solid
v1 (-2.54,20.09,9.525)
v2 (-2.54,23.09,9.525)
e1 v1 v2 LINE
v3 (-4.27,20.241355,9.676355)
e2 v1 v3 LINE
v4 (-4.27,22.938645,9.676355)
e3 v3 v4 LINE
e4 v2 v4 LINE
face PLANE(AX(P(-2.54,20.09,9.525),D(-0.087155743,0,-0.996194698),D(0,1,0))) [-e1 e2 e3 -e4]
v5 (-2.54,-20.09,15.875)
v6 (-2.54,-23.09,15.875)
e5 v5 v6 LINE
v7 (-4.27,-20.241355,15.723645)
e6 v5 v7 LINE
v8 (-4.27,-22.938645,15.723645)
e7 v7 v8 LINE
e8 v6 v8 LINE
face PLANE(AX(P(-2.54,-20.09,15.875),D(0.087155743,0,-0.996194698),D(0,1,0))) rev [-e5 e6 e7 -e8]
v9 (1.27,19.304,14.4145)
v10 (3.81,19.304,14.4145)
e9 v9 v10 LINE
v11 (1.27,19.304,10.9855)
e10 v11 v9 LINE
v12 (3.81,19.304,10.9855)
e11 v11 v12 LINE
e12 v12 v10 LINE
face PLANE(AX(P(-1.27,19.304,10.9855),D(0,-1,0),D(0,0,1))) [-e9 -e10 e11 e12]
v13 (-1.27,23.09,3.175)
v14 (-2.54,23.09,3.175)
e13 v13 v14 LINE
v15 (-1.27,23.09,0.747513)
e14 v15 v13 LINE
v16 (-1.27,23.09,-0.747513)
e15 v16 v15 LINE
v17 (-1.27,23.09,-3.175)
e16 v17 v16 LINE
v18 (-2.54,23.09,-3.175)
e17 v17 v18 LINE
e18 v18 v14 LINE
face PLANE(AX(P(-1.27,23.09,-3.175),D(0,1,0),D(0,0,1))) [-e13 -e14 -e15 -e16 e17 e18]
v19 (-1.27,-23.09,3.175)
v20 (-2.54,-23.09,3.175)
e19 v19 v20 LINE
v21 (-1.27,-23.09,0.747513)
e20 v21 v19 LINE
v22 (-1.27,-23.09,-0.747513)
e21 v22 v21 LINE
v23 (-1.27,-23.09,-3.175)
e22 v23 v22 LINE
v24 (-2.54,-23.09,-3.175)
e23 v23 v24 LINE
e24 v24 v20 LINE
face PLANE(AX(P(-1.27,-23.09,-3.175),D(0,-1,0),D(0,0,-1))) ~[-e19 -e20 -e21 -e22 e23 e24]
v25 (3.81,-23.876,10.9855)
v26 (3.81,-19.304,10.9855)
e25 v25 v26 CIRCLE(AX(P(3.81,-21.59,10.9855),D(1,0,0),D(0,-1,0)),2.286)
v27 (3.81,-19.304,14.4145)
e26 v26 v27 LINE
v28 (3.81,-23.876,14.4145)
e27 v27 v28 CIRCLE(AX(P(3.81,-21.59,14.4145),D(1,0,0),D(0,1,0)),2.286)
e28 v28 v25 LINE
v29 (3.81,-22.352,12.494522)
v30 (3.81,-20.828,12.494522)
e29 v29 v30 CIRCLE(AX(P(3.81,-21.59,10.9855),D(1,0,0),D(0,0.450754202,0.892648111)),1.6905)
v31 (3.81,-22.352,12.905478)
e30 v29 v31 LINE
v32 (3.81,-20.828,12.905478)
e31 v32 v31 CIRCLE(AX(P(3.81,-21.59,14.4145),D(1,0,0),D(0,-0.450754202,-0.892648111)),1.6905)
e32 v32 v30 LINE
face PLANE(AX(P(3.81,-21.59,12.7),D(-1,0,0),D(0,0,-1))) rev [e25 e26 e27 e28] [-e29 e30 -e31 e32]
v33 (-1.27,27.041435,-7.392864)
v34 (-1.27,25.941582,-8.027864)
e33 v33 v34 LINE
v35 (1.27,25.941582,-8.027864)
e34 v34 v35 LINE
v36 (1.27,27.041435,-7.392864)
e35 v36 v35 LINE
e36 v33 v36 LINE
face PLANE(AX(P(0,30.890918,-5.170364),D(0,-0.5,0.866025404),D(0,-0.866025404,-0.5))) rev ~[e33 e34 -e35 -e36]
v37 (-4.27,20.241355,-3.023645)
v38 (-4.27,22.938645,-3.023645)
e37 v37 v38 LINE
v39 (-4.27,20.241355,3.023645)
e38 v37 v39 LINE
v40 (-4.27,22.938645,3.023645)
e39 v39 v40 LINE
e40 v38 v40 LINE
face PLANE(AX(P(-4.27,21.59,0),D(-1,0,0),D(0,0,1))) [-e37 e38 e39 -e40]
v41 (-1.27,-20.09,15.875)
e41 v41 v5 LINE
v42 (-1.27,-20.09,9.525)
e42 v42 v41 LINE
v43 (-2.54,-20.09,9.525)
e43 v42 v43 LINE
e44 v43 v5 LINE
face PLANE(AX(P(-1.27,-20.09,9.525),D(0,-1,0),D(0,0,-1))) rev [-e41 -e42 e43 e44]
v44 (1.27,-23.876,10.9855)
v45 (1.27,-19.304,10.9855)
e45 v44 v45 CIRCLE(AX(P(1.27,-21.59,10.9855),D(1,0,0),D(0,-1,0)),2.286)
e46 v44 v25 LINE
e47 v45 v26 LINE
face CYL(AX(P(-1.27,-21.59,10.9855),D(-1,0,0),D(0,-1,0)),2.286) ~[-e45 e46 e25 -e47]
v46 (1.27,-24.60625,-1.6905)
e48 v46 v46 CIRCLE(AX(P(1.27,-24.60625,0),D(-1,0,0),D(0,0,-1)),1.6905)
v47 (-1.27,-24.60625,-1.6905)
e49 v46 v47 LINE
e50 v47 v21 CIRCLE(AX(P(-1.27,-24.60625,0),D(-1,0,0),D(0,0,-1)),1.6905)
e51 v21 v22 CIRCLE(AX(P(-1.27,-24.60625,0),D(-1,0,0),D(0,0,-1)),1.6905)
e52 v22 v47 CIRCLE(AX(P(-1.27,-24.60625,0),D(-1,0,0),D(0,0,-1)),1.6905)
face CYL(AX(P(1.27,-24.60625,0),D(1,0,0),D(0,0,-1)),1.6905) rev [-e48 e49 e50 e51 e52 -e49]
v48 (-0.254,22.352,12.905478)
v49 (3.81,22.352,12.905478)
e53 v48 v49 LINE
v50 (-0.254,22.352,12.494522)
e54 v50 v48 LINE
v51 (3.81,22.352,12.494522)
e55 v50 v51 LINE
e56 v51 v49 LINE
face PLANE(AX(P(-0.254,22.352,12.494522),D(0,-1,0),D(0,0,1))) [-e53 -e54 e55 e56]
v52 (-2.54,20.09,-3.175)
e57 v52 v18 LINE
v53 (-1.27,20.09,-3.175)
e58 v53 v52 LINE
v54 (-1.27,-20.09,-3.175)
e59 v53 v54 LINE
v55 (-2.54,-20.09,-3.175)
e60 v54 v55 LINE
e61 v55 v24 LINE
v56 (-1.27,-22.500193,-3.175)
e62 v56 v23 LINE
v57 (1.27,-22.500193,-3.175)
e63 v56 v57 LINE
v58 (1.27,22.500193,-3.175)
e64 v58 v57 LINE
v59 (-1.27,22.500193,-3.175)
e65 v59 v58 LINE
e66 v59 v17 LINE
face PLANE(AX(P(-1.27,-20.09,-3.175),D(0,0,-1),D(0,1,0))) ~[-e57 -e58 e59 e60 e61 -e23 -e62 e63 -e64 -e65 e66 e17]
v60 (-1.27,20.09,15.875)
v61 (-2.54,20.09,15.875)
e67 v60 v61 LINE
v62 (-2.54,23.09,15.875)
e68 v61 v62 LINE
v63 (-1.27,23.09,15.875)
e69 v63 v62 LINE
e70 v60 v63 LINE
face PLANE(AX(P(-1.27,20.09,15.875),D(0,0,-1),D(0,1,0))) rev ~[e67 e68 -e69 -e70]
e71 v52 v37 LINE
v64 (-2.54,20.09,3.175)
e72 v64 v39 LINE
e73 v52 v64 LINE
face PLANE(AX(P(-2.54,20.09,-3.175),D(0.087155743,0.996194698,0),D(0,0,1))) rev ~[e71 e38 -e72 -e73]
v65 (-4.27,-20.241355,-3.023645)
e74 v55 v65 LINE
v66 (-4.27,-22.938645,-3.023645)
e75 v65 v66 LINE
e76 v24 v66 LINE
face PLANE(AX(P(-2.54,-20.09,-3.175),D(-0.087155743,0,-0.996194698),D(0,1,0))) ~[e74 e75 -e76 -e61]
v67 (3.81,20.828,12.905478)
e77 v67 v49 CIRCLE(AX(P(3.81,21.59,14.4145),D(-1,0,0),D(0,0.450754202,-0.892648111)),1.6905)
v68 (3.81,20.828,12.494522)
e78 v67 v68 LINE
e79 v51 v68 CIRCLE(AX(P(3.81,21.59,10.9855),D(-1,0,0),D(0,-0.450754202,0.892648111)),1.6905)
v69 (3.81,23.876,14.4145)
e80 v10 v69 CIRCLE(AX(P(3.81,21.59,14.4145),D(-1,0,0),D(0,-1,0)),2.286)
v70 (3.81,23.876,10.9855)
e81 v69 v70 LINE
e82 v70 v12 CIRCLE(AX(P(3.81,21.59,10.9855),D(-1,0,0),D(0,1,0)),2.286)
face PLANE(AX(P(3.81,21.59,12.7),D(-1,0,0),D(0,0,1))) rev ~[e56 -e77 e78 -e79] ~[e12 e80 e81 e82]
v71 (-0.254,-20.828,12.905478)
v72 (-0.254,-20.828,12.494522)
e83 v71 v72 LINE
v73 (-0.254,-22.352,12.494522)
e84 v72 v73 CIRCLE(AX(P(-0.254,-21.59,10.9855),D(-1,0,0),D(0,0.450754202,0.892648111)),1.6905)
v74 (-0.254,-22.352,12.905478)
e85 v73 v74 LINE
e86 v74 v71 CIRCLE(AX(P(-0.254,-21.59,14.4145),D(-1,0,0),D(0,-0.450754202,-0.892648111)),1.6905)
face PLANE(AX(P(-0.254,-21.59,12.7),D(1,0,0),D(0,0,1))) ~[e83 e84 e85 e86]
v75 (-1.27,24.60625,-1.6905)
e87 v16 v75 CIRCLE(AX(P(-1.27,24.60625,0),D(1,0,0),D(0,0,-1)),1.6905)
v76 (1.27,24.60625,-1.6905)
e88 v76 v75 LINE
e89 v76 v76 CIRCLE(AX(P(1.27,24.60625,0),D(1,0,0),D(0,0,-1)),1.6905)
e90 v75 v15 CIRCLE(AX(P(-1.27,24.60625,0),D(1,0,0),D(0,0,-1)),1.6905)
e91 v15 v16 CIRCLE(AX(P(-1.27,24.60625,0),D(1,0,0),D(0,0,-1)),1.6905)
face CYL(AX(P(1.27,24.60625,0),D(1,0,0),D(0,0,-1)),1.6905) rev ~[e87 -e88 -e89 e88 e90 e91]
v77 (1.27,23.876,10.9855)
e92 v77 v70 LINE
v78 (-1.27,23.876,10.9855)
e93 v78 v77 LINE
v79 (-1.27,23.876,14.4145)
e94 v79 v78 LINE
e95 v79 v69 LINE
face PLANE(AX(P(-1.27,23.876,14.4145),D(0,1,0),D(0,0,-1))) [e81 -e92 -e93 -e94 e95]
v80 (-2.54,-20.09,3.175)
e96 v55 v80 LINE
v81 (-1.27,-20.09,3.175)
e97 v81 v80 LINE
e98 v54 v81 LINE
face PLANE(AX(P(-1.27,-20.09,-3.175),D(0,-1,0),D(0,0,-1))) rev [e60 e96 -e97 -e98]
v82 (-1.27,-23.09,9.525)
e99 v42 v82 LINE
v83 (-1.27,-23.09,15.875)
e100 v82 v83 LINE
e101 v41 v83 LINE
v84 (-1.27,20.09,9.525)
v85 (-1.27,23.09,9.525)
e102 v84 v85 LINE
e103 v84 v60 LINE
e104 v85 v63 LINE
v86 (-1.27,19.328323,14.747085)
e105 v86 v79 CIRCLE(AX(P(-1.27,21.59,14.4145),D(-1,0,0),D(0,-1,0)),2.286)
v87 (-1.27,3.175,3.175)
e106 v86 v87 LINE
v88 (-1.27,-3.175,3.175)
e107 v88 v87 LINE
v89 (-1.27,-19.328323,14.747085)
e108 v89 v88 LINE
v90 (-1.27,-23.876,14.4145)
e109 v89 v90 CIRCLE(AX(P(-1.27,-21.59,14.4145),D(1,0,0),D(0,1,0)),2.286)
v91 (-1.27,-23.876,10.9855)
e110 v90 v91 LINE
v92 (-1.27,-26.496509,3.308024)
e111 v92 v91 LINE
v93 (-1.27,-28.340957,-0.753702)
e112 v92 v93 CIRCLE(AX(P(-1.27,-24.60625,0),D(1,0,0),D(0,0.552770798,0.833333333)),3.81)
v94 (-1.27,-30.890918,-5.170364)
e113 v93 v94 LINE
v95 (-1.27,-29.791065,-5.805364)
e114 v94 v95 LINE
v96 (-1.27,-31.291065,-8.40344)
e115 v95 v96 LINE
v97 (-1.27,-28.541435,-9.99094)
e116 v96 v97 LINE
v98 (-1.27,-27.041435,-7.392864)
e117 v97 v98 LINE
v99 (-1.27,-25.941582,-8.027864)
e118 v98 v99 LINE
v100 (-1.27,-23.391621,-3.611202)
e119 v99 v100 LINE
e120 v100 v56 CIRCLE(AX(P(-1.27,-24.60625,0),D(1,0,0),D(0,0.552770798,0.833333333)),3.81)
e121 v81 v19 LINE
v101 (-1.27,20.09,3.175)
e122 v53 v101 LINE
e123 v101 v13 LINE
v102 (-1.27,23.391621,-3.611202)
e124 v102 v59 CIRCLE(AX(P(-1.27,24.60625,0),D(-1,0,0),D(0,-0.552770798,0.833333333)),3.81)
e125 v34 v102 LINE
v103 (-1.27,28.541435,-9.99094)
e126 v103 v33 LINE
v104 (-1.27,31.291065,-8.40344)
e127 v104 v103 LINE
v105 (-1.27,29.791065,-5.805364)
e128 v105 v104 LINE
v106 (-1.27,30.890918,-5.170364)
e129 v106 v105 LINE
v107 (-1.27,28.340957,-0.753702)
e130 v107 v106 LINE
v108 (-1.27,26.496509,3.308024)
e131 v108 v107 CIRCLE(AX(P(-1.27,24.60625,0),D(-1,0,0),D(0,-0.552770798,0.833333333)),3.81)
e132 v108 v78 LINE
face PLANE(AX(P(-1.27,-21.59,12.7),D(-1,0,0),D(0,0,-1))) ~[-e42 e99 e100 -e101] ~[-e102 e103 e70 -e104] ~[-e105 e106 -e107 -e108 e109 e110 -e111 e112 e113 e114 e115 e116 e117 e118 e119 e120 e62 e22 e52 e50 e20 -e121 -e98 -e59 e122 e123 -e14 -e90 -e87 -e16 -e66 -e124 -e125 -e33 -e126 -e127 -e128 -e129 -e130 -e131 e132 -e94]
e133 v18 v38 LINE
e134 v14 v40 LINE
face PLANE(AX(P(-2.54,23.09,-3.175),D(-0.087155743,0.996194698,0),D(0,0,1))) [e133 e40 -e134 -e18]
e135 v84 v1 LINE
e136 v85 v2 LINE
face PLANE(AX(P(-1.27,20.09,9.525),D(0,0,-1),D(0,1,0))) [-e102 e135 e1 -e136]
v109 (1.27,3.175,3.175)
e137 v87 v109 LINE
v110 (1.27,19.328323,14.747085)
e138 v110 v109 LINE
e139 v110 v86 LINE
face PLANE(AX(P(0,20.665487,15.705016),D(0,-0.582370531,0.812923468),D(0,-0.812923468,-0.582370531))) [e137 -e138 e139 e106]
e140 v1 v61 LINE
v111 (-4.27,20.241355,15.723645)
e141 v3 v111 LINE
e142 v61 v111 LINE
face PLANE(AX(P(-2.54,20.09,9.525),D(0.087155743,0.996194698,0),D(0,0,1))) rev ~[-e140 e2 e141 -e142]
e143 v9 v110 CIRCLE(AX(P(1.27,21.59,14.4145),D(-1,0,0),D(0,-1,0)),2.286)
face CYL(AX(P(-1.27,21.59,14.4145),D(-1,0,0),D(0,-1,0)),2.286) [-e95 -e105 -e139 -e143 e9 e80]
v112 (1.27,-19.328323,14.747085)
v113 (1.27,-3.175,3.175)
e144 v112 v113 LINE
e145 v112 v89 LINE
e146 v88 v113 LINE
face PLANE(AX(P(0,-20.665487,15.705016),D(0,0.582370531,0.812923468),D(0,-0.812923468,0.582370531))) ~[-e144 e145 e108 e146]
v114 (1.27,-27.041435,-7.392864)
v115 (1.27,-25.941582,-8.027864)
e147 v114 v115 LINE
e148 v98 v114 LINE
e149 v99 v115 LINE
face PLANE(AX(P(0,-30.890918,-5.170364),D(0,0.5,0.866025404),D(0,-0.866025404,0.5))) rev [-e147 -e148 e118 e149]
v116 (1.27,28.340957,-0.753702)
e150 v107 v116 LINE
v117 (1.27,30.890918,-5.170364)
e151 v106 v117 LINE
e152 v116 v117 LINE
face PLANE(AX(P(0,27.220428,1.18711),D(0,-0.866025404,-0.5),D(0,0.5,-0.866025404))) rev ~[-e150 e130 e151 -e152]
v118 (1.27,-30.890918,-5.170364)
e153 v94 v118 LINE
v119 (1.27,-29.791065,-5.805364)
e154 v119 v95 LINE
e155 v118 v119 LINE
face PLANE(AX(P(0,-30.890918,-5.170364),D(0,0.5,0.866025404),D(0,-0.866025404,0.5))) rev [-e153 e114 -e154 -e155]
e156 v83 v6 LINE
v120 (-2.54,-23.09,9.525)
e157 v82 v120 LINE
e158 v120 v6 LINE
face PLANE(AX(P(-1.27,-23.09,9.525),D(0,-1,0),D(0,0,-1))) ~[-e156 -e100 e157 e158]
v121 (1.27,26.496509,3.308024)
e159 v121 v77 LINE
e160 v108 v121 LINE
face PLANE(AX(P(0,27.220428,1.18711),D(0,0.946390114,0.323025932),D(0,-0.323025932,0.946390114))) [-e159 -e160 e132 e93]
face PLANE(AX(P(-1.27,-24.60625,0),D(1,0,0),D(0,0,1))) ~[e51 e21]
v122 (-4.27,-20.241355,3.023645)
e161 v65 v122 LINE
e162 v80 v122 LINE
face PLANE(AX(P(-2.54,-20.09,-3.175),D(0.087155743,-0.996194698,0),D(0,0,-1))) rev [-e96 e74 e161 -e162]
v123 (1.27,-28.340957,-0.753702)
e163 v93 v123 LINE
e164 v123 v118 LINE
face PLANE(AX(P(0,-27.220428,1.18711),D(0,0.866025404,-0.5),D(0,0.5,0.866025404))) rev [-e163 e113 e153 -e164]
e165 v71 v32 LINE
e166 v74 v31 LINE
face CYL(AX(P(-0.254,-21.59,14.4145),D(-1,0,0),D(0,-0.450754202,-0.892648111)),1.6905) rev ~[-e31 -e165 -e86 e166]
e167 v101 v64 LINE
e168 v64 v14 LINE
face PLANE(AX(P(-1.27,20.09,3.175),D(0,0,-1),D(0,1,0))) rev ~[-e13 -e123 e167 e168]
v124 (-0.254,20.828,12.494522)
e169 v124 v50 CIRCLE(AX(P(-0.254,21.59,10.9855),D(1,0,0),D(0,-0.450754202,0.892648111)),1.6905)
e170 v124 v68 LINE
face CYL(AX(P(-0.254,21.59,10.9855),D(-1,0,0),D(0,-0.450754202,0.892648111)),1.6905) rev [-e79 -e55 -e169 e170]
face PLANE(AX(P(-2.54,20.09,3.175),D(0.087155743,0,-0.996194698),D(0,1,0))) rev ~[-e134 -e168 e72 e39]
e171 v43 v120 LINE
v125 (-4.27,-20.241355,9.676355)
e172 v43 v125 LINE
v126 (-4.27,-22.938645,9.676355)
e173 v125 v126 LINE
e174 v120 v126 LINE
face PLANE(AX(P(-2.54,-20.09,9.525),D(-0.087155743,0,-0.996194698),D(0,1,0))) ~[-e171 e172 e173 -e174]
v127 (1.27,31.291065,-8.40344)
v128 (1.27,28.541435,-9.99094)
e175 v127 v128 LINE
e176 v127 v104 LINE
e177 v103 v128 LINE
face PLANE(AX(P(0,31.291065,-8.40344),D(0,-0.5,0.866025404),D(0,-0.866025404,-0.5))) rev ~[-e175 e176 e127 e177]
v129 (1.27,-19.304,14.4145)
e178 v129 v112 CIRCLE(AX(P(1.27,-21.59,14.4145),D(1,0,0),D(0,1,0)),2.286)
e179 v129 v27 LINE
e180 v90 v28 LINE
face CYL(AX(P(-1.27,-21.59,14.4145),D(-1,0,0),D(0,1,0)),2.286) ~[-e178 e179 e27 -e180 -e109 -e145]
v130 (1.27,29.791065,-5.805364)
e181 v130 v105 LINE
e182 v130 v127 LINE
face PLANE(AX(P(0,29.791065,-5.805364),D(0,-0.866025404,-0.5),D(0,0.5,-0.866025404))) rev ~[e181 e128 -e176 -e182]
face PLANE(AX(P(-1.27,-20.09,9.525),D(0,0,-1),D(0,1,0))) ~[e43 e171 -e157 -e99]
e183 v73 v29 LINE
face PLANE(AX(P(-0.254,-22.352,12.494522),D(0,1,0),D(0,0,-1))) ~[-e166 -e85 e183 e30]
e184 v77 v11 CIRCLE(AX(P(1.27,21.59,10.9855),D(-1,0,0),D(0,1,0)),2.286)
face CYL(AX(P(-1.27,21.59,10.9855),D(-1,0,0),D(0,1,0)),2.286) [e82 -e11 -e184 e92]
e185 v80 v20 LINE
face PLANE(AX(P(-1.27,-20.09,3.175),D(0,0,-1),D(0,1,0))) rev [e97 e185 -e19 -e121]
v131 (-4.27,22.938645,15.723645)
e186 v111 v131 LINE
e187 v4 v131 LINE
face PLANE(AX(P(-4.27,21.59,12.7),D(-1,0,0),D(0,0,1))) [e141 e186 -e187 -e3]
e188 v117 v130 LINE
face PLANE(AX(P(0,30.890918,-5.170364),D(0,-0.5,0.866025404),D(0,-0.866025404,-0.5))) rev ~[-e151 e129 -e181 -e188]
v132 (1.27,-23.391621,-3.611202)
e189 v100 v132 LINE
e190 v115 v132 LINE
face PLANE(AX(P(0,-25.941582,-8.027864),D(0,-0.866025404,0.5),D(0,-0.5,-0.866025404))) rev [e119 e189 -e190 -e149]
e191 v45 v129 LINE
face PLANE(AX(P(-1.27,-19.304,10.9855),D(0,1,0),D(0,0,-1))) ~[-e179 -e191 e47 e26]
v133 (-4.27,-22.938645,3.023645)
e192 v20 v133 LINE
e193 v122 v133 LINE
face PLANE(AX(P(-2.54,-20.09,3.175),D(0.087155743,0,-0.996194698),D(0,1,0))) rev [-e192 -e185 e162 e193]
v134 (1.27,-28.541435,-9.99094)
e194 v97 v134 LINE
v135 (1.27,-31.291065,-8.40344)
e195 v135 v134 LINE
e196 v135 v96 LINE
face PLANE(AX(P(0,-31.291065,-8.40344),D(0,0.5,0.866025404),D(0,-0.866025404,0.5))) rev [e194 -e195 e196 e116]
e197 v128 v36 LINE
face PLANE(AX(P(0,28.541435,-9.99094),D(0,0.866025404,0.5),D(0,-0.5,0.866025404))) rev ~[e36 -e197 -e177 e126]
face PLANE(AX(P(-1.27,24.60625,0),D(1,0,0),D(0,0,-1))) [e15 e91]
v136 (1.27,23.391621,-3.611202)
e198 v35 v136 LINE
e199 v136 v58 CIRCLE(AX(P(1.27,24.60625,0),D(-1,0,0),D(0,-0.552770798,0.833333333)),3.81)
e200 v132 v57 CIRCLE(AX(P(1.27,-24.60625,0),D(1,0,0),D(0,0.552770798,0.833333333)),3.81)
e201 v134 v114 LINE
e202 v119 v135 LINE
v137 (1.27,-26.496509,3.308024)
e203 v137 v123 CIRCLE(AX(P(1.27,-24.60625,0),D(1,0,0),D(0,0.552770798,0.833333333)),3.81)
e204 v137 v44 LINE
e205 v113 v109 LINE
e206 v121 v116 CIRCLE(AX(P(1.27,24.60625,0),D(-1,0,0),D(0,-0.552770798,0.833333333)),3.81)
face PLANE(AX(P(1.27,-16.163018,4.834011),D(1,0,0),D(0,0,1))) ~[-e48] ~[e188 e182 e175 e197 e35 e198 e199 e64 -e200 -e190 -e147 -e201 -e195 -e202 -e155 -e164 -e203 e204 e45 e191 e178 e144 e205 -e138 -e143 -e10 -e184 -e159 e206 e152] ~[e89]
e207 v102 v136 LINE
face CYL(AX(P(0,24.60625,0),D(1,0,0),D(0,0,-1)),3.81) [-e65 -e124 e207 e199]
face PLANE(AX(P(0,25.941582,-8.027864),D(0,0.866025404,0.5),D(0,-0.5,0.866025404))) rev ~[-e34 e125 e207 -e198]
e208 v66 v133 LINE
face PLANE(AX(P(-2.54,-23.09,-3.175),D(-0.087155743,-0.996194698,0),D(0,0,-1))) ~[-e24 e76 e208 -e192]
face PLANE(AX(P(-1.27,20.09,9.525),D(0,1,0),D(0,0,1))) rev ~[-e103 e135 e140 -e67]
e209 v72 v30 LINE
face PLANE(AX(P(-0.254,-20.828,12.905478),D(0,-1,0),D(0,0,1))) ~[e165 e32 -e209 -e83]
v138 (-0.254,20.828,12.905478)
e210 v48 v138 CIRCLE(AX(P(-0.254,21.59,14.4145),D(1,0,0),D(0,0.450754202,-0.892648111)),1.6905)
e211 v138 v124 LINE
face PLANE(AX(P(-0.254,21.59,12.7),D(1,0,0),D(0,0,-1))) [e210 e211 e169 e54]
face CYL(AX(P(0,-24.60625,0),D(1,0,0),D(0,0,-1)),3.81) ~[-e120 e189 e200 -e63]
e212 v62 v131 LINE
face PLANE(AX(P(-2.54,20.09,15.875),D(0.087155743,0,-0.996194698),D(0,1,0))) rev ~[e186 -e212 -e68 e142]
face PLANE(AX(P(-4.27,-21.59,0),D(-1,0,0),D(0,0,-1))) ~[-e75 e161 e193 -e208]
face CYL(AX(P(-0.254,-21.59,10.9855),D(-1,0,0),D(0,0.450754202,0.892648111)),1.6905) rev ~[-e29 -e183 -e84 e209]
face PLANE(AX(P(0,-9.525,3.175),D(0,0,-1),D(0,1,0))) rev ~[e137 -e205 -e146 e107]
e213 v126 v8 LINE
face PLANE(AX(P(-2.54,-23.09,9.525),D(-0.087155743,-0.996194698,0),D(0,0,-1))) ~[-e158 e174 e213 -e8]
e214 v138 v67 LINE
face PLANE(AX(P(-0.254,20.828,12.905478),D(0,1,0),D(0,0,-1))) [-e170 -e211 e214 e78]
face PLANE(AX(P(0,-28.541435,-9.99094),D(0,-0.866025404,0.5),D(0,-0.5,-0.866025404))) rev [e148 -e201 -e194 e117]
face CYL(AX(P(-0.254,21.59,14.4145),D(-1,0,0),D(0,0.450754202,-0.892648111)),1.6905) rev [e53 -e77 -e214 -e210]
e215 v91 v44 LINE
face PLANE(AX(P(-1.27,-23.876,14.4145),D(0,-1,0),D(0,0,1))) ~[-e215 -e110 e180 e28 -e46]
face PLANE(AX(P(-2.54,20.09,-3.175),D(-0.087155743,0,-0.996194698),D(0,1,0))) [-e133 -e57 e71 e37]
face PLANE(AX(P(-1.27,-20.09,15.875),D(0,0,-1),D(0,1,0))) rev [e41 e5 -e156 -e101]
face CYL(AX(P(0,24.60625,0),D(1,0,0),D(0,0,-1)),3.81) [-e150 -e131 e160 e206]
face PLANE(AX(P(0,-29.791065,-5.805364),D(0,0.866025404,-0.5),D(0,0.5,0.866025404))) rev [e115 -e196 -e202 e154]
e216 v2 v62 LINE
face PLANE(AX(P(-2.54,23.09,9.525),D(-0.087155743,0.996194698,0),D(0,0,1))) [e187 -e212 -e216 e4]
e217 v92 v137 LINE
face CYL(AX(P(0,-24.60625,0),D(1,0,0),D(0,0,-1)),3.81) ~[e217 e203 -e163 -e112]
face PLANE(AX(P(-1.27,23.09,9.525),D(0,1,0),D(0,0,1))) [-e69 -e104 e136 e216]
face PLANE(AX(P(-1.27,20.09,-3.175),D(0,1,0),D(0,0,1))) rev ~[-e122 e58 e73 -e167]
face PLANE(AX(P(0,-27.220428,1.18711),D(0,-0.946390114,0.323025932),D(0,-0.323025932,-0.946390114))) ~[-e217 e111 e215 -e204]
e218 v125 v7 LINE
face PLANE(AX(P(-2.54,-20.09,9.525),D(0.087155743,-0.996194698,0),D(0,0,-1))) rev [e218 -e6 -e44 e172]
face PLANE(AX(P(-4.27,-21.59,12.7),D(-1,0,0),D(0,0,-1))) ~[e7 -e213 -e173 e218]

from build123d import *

# Parameters (mm, degrees)
SKETCH3_R                   = 3.81
DOWELSUPPORT_DEPTH          = 1.27
SKETCH5_W                   = 6.35
SKETCH5_H                   = 19.05
SLIDERDOWELSUPPORT_DEPTH    = 1.27
LATERALSUPPORT_DEPTH        = 1.27
SKETCH8_W                   = 6.35
SKETCH8_H                   = 3
TABSUPPORT_DEPTH            = 1.27
STRINGDOWELSUPPORT_START    = -1.27
STRINGDOWELSUPPORT_DEPTH    = 5.08
INTERSUPPORT_DEPTH          = 1.27
SKETCH10_W                  = 6.35
SKETCH10_H                  = 3
TABBASE_DEPTH               = 1.27
SKETCH12_W                  = 6.35
SKETCH12_H                  = 3
TABDRAFT_DEPTH              = 1.73
TABDRAFT_DRAFT              = 5
TABDRAFT_PROFILE_2_DEPTH    = 1.73
TABDRAFT_PROFILE_2_DRAFT    = 5
STRINGDOWELHOLES_DEPTH      = 36.898872819
STRINGDOWELHOLES_DEPTH_BACK = 1.524
SKETCH14_R                  = 1.690500048
PULLEYDOWELHOLE_DEPTH       = 2.54


with BuildPart() as part:
    # Sketch3 → DowelSupport (new, symmetric)
    with BuildSketch(Plane(origin=(0, 0, 0), x_dir=(0, 0, -1), z_dir=(1, 0, 0))):
        with Locations((0, 24.60625)):
            Circle(SKETCH3_R)
    extrude(amount=DOWELSUPPORT_DEPTH, both=True)

    # Sketch8 → TabSupport (add, symmetric)
    with BuildSketch(Plane(origin=(0, 0, 0), x_dir=(0, 0, -1), z_dir=(1, 0, 0))):
        with Locations((0, 21.59)):
            Rectangle(SKETCH8_W, SKETCH8_H)
        with Locations((-12.7, 21.59)):
            Rectangle(SKETCH8_W, SKETCH8_H)
    extrude(amount=TABSUPPORT_DEPTH, both=True)


with BuildPart() as body_2:
    # Sketch5 → SliderDowelSupport (new, symmetric)
    with BuildSketch(Plane(origin=(0, 0, 0), x_dir=(0, 0, -1), z_dir=(1, 0, 0))):
        Rectangle(SKETCH5_W, SKETCH5_H)
    extrude(amount=SLIDERDOWELSUPPORT_DEPTH, both=True)



with BuildPart() as body_3:
    # Sketch6 → LateralSupport (new, symmetric)
    with BuildSketch(Plane(origin=(0, 0, 0), x_dir=(0, 0, -1), z_dir=(1, 0, 0))):
        Polygon((7.392863577, 27.041434671), (5.805363577, 29.791065329), (8.403439788, 31.291065329), (9.990939788, 28.541434671), align=None)
    extrude(amount=LATERALSUPPORT_DEPTH, both=True)


with BuildPart() as tabsupport_piece_1:
    # of the separate pieces the step leaves, piece 1, a body of its own (tabsupport_pieces)
    add(part.part.solids().sort_by_distance((1.27, 22.500193258, 3.175))[0])


with BuildPart() as tabsupport_piece_2:
    # of the separate pieces the step leaves, piece 2, a body of its own (tabsupport_pieces)
    add(part.part.solids().sort_by_distance((-1.27, 20.09, 9.525))[0])

    # Sketch15 → StringDowelSupport (add)
    with BuildSketch(Plane(origin=(0, 0, 0), x_dir=(0, 0, -1), z_dir=(1, 0, 0)).offset(STRINGDOWELSUPPORT_START)):
        with BuildLine():
            Line((-14.4145, 23.876), (-10.9855, 23.876))
            ThreePointArc((-10.9855, 23.876), (-8.6995, 21.59), (-10.9855, 19.304))
            Line((-10.9855, 19.304), (-14.4145, 19.304))
            ThreePointArc((-14.4145, 19.304), (-16.7005, 21.59), (-14.4145, 23.876))
        make_face()
    extrude(amount=STRINGDOWELSUPPORT_DEPTH)


with BuildPart() as body_2_1:
    add(body_2.part)

    add(body_3.part)  # InterSupport merges body 3

    add(tabsupport_piece_1.part)  # InterSupport merges TabSupport piece 1

    add(tabsupport_piece_2.part)  # InterSupport merges TabSupport piece 2
    # Sketch7 → InterSupport (add, symmetric)
    with BuildSketch(Plane(origin=(0, 0, 0), x_dir=(0, 0, -1), z_dir=(1, 0, 0))):
        Polygon((-15.705016006, 20.665486783), (-3.175, 3.175), (-3.175, 9.525), (3.175, 9.525), (3.175, 20.09), (0.923046602, 21.901940251), (-0.923046602, 27.310559749), (-10.9855, 23.876), (-14.4145, 23.876), align=None)
        Polygon((5.170363577, 30.890917591), (8.027863577, 25.941582409), (1.42875, 22.131582409), (-1.42875, 27.080917591), align=None)
    extrude(amount=INTERSUPPORT_DEPTH, both=True)

    # Sketch10 → TabBase (add)
    with BuildSketch(Plane.ZY.offset(1.27)):
        with Locations((0, 21.59)):
            Rectangle(SKETCH10_W, SKETCH10_H)
        with Locations((12.7, 21.59)):
            Rectangle(SKETCH10_W, SKETCH10_H)
    extrude(amount=TABBASE_DEPTH)


with BuildPart() as tabdraft_tool:
    # Sketch12 → TabDraft (with draft: the straight prism first)
    with BuildSketch(Plane.ZY.offset(2.54)):
        with Locations((0, 21.59)):
            Rectangle(SKETCH12_W, SKETCH12_H)
    extrude(amount=TABDRAFT_DEPTH)
    # TabDraft: the draft: its side faces are tilted about the plane it starts from
    tabdraft_sides = [tabdraft_tool.faces().sort_by_distance(p)[0] for p in [
        (-3.405, 21.59, 3.175),
        (-3.405, 23.09, 0),
        (-3.405, 21.59, -3.175),
        (-3.405, 20.09, 0),
    ]]
    draft(tabdraft_sides, Plane.ZY.offset(2.54), TABDRAFT_DRAFT)


with BuildPart() as body_2_2:
    add(body_2_1.part)

    # TabDraft: add tabdraft_tool
    add(tabdraft_tool.part)


with BuildPart() as tabdraft_profile_2_tool:
    # Sketch12 → TabDraft profile 2 (with draft: the straight prism first)
    with BuildSketch(Plane.ZY.offset(2.54)):
        with Locations((12.7, 21.59)):
            Rectangle(SKETCH12_W, SKETCH12_H)
    extrude(amount=TABDRAFT_PROFILE_2_DEPTH)
    # TabDraft profile 2: the draft: its side faces are tilted about the plane it starts from
    tabdraft_profile_2_sides = [tabdraft_profile_2_tool.faces().sort_by_distance(p)[0] for p in [
        (-3.405, 21.59, 9.525),
        (-3.405, 20.09, 12.7),
        (-3.405, 21.59, 15.875),
        (-3.405, 23.09, 12.7),
    ]]
    draft(tabdraft_profile_2_sides, Plane.ZY.offset(2.54), TABDRAFT_PROFILE_2_DRAFT)


with BuildPart() as body_2_3:
    add(body_2_2.part)

    # TabDraft profile 2: add tabdraft_profile_2_tool
    add(tabdraft_profile_2_tool.part)

    # Sketch16 → StringDowelHoles (cut, two sides: drawn at the far end of the back side and taken through both)
    with BuildSketch(Plane(origin=(1.27, 0, 0), x_dir=(0, 0, -1), z_dir=(1, 0, 0)).offset(-STRINGDOWELHOLES_DEPTH_BACK)):
        with BuildLine():
            Line((-12.905478326, 20.828), (-12.494521674, 20.828))
            ThreePointArc((-12.494521674, 20.828), (-9.294999952, 21.59), (-12.494521674, 22.352))
            Line((-12.494521674, 22.352), (-12.905478326, 22.352))
            ThreePointArc((-12.905478326, 22.352), (-16.105000048, 21.59), (-12.905478326, 20.828))
        make_face()
    extrude(amount=STRINGDOWELHOLES_DEPTH + STRINGDOWELHOLES_DEPTH_BACK, mode=Mode.SUBTRACT)

    # Sketch14 → PulleyDowelHole (cut)
    with BuildSketch(Plane(origin=(1.27, 0, 0), x_dir=(0, 0, -1), z_dir=(1, 0, 0))):
        with Locations((0, 24.60625)):
            Circle(SKETCH14_R)
    extrude(amount=-PULLEYDOWELHOLE_DEPTH, mode=Mode.SUBTRACT)

    # Mirror1: body 2 across plane


with BuildPart() as body_2_4:
    add(body_2_3.part)
    add(body_2_3.part.mirror(Plane.ZX))


solid = body_2_4.part
